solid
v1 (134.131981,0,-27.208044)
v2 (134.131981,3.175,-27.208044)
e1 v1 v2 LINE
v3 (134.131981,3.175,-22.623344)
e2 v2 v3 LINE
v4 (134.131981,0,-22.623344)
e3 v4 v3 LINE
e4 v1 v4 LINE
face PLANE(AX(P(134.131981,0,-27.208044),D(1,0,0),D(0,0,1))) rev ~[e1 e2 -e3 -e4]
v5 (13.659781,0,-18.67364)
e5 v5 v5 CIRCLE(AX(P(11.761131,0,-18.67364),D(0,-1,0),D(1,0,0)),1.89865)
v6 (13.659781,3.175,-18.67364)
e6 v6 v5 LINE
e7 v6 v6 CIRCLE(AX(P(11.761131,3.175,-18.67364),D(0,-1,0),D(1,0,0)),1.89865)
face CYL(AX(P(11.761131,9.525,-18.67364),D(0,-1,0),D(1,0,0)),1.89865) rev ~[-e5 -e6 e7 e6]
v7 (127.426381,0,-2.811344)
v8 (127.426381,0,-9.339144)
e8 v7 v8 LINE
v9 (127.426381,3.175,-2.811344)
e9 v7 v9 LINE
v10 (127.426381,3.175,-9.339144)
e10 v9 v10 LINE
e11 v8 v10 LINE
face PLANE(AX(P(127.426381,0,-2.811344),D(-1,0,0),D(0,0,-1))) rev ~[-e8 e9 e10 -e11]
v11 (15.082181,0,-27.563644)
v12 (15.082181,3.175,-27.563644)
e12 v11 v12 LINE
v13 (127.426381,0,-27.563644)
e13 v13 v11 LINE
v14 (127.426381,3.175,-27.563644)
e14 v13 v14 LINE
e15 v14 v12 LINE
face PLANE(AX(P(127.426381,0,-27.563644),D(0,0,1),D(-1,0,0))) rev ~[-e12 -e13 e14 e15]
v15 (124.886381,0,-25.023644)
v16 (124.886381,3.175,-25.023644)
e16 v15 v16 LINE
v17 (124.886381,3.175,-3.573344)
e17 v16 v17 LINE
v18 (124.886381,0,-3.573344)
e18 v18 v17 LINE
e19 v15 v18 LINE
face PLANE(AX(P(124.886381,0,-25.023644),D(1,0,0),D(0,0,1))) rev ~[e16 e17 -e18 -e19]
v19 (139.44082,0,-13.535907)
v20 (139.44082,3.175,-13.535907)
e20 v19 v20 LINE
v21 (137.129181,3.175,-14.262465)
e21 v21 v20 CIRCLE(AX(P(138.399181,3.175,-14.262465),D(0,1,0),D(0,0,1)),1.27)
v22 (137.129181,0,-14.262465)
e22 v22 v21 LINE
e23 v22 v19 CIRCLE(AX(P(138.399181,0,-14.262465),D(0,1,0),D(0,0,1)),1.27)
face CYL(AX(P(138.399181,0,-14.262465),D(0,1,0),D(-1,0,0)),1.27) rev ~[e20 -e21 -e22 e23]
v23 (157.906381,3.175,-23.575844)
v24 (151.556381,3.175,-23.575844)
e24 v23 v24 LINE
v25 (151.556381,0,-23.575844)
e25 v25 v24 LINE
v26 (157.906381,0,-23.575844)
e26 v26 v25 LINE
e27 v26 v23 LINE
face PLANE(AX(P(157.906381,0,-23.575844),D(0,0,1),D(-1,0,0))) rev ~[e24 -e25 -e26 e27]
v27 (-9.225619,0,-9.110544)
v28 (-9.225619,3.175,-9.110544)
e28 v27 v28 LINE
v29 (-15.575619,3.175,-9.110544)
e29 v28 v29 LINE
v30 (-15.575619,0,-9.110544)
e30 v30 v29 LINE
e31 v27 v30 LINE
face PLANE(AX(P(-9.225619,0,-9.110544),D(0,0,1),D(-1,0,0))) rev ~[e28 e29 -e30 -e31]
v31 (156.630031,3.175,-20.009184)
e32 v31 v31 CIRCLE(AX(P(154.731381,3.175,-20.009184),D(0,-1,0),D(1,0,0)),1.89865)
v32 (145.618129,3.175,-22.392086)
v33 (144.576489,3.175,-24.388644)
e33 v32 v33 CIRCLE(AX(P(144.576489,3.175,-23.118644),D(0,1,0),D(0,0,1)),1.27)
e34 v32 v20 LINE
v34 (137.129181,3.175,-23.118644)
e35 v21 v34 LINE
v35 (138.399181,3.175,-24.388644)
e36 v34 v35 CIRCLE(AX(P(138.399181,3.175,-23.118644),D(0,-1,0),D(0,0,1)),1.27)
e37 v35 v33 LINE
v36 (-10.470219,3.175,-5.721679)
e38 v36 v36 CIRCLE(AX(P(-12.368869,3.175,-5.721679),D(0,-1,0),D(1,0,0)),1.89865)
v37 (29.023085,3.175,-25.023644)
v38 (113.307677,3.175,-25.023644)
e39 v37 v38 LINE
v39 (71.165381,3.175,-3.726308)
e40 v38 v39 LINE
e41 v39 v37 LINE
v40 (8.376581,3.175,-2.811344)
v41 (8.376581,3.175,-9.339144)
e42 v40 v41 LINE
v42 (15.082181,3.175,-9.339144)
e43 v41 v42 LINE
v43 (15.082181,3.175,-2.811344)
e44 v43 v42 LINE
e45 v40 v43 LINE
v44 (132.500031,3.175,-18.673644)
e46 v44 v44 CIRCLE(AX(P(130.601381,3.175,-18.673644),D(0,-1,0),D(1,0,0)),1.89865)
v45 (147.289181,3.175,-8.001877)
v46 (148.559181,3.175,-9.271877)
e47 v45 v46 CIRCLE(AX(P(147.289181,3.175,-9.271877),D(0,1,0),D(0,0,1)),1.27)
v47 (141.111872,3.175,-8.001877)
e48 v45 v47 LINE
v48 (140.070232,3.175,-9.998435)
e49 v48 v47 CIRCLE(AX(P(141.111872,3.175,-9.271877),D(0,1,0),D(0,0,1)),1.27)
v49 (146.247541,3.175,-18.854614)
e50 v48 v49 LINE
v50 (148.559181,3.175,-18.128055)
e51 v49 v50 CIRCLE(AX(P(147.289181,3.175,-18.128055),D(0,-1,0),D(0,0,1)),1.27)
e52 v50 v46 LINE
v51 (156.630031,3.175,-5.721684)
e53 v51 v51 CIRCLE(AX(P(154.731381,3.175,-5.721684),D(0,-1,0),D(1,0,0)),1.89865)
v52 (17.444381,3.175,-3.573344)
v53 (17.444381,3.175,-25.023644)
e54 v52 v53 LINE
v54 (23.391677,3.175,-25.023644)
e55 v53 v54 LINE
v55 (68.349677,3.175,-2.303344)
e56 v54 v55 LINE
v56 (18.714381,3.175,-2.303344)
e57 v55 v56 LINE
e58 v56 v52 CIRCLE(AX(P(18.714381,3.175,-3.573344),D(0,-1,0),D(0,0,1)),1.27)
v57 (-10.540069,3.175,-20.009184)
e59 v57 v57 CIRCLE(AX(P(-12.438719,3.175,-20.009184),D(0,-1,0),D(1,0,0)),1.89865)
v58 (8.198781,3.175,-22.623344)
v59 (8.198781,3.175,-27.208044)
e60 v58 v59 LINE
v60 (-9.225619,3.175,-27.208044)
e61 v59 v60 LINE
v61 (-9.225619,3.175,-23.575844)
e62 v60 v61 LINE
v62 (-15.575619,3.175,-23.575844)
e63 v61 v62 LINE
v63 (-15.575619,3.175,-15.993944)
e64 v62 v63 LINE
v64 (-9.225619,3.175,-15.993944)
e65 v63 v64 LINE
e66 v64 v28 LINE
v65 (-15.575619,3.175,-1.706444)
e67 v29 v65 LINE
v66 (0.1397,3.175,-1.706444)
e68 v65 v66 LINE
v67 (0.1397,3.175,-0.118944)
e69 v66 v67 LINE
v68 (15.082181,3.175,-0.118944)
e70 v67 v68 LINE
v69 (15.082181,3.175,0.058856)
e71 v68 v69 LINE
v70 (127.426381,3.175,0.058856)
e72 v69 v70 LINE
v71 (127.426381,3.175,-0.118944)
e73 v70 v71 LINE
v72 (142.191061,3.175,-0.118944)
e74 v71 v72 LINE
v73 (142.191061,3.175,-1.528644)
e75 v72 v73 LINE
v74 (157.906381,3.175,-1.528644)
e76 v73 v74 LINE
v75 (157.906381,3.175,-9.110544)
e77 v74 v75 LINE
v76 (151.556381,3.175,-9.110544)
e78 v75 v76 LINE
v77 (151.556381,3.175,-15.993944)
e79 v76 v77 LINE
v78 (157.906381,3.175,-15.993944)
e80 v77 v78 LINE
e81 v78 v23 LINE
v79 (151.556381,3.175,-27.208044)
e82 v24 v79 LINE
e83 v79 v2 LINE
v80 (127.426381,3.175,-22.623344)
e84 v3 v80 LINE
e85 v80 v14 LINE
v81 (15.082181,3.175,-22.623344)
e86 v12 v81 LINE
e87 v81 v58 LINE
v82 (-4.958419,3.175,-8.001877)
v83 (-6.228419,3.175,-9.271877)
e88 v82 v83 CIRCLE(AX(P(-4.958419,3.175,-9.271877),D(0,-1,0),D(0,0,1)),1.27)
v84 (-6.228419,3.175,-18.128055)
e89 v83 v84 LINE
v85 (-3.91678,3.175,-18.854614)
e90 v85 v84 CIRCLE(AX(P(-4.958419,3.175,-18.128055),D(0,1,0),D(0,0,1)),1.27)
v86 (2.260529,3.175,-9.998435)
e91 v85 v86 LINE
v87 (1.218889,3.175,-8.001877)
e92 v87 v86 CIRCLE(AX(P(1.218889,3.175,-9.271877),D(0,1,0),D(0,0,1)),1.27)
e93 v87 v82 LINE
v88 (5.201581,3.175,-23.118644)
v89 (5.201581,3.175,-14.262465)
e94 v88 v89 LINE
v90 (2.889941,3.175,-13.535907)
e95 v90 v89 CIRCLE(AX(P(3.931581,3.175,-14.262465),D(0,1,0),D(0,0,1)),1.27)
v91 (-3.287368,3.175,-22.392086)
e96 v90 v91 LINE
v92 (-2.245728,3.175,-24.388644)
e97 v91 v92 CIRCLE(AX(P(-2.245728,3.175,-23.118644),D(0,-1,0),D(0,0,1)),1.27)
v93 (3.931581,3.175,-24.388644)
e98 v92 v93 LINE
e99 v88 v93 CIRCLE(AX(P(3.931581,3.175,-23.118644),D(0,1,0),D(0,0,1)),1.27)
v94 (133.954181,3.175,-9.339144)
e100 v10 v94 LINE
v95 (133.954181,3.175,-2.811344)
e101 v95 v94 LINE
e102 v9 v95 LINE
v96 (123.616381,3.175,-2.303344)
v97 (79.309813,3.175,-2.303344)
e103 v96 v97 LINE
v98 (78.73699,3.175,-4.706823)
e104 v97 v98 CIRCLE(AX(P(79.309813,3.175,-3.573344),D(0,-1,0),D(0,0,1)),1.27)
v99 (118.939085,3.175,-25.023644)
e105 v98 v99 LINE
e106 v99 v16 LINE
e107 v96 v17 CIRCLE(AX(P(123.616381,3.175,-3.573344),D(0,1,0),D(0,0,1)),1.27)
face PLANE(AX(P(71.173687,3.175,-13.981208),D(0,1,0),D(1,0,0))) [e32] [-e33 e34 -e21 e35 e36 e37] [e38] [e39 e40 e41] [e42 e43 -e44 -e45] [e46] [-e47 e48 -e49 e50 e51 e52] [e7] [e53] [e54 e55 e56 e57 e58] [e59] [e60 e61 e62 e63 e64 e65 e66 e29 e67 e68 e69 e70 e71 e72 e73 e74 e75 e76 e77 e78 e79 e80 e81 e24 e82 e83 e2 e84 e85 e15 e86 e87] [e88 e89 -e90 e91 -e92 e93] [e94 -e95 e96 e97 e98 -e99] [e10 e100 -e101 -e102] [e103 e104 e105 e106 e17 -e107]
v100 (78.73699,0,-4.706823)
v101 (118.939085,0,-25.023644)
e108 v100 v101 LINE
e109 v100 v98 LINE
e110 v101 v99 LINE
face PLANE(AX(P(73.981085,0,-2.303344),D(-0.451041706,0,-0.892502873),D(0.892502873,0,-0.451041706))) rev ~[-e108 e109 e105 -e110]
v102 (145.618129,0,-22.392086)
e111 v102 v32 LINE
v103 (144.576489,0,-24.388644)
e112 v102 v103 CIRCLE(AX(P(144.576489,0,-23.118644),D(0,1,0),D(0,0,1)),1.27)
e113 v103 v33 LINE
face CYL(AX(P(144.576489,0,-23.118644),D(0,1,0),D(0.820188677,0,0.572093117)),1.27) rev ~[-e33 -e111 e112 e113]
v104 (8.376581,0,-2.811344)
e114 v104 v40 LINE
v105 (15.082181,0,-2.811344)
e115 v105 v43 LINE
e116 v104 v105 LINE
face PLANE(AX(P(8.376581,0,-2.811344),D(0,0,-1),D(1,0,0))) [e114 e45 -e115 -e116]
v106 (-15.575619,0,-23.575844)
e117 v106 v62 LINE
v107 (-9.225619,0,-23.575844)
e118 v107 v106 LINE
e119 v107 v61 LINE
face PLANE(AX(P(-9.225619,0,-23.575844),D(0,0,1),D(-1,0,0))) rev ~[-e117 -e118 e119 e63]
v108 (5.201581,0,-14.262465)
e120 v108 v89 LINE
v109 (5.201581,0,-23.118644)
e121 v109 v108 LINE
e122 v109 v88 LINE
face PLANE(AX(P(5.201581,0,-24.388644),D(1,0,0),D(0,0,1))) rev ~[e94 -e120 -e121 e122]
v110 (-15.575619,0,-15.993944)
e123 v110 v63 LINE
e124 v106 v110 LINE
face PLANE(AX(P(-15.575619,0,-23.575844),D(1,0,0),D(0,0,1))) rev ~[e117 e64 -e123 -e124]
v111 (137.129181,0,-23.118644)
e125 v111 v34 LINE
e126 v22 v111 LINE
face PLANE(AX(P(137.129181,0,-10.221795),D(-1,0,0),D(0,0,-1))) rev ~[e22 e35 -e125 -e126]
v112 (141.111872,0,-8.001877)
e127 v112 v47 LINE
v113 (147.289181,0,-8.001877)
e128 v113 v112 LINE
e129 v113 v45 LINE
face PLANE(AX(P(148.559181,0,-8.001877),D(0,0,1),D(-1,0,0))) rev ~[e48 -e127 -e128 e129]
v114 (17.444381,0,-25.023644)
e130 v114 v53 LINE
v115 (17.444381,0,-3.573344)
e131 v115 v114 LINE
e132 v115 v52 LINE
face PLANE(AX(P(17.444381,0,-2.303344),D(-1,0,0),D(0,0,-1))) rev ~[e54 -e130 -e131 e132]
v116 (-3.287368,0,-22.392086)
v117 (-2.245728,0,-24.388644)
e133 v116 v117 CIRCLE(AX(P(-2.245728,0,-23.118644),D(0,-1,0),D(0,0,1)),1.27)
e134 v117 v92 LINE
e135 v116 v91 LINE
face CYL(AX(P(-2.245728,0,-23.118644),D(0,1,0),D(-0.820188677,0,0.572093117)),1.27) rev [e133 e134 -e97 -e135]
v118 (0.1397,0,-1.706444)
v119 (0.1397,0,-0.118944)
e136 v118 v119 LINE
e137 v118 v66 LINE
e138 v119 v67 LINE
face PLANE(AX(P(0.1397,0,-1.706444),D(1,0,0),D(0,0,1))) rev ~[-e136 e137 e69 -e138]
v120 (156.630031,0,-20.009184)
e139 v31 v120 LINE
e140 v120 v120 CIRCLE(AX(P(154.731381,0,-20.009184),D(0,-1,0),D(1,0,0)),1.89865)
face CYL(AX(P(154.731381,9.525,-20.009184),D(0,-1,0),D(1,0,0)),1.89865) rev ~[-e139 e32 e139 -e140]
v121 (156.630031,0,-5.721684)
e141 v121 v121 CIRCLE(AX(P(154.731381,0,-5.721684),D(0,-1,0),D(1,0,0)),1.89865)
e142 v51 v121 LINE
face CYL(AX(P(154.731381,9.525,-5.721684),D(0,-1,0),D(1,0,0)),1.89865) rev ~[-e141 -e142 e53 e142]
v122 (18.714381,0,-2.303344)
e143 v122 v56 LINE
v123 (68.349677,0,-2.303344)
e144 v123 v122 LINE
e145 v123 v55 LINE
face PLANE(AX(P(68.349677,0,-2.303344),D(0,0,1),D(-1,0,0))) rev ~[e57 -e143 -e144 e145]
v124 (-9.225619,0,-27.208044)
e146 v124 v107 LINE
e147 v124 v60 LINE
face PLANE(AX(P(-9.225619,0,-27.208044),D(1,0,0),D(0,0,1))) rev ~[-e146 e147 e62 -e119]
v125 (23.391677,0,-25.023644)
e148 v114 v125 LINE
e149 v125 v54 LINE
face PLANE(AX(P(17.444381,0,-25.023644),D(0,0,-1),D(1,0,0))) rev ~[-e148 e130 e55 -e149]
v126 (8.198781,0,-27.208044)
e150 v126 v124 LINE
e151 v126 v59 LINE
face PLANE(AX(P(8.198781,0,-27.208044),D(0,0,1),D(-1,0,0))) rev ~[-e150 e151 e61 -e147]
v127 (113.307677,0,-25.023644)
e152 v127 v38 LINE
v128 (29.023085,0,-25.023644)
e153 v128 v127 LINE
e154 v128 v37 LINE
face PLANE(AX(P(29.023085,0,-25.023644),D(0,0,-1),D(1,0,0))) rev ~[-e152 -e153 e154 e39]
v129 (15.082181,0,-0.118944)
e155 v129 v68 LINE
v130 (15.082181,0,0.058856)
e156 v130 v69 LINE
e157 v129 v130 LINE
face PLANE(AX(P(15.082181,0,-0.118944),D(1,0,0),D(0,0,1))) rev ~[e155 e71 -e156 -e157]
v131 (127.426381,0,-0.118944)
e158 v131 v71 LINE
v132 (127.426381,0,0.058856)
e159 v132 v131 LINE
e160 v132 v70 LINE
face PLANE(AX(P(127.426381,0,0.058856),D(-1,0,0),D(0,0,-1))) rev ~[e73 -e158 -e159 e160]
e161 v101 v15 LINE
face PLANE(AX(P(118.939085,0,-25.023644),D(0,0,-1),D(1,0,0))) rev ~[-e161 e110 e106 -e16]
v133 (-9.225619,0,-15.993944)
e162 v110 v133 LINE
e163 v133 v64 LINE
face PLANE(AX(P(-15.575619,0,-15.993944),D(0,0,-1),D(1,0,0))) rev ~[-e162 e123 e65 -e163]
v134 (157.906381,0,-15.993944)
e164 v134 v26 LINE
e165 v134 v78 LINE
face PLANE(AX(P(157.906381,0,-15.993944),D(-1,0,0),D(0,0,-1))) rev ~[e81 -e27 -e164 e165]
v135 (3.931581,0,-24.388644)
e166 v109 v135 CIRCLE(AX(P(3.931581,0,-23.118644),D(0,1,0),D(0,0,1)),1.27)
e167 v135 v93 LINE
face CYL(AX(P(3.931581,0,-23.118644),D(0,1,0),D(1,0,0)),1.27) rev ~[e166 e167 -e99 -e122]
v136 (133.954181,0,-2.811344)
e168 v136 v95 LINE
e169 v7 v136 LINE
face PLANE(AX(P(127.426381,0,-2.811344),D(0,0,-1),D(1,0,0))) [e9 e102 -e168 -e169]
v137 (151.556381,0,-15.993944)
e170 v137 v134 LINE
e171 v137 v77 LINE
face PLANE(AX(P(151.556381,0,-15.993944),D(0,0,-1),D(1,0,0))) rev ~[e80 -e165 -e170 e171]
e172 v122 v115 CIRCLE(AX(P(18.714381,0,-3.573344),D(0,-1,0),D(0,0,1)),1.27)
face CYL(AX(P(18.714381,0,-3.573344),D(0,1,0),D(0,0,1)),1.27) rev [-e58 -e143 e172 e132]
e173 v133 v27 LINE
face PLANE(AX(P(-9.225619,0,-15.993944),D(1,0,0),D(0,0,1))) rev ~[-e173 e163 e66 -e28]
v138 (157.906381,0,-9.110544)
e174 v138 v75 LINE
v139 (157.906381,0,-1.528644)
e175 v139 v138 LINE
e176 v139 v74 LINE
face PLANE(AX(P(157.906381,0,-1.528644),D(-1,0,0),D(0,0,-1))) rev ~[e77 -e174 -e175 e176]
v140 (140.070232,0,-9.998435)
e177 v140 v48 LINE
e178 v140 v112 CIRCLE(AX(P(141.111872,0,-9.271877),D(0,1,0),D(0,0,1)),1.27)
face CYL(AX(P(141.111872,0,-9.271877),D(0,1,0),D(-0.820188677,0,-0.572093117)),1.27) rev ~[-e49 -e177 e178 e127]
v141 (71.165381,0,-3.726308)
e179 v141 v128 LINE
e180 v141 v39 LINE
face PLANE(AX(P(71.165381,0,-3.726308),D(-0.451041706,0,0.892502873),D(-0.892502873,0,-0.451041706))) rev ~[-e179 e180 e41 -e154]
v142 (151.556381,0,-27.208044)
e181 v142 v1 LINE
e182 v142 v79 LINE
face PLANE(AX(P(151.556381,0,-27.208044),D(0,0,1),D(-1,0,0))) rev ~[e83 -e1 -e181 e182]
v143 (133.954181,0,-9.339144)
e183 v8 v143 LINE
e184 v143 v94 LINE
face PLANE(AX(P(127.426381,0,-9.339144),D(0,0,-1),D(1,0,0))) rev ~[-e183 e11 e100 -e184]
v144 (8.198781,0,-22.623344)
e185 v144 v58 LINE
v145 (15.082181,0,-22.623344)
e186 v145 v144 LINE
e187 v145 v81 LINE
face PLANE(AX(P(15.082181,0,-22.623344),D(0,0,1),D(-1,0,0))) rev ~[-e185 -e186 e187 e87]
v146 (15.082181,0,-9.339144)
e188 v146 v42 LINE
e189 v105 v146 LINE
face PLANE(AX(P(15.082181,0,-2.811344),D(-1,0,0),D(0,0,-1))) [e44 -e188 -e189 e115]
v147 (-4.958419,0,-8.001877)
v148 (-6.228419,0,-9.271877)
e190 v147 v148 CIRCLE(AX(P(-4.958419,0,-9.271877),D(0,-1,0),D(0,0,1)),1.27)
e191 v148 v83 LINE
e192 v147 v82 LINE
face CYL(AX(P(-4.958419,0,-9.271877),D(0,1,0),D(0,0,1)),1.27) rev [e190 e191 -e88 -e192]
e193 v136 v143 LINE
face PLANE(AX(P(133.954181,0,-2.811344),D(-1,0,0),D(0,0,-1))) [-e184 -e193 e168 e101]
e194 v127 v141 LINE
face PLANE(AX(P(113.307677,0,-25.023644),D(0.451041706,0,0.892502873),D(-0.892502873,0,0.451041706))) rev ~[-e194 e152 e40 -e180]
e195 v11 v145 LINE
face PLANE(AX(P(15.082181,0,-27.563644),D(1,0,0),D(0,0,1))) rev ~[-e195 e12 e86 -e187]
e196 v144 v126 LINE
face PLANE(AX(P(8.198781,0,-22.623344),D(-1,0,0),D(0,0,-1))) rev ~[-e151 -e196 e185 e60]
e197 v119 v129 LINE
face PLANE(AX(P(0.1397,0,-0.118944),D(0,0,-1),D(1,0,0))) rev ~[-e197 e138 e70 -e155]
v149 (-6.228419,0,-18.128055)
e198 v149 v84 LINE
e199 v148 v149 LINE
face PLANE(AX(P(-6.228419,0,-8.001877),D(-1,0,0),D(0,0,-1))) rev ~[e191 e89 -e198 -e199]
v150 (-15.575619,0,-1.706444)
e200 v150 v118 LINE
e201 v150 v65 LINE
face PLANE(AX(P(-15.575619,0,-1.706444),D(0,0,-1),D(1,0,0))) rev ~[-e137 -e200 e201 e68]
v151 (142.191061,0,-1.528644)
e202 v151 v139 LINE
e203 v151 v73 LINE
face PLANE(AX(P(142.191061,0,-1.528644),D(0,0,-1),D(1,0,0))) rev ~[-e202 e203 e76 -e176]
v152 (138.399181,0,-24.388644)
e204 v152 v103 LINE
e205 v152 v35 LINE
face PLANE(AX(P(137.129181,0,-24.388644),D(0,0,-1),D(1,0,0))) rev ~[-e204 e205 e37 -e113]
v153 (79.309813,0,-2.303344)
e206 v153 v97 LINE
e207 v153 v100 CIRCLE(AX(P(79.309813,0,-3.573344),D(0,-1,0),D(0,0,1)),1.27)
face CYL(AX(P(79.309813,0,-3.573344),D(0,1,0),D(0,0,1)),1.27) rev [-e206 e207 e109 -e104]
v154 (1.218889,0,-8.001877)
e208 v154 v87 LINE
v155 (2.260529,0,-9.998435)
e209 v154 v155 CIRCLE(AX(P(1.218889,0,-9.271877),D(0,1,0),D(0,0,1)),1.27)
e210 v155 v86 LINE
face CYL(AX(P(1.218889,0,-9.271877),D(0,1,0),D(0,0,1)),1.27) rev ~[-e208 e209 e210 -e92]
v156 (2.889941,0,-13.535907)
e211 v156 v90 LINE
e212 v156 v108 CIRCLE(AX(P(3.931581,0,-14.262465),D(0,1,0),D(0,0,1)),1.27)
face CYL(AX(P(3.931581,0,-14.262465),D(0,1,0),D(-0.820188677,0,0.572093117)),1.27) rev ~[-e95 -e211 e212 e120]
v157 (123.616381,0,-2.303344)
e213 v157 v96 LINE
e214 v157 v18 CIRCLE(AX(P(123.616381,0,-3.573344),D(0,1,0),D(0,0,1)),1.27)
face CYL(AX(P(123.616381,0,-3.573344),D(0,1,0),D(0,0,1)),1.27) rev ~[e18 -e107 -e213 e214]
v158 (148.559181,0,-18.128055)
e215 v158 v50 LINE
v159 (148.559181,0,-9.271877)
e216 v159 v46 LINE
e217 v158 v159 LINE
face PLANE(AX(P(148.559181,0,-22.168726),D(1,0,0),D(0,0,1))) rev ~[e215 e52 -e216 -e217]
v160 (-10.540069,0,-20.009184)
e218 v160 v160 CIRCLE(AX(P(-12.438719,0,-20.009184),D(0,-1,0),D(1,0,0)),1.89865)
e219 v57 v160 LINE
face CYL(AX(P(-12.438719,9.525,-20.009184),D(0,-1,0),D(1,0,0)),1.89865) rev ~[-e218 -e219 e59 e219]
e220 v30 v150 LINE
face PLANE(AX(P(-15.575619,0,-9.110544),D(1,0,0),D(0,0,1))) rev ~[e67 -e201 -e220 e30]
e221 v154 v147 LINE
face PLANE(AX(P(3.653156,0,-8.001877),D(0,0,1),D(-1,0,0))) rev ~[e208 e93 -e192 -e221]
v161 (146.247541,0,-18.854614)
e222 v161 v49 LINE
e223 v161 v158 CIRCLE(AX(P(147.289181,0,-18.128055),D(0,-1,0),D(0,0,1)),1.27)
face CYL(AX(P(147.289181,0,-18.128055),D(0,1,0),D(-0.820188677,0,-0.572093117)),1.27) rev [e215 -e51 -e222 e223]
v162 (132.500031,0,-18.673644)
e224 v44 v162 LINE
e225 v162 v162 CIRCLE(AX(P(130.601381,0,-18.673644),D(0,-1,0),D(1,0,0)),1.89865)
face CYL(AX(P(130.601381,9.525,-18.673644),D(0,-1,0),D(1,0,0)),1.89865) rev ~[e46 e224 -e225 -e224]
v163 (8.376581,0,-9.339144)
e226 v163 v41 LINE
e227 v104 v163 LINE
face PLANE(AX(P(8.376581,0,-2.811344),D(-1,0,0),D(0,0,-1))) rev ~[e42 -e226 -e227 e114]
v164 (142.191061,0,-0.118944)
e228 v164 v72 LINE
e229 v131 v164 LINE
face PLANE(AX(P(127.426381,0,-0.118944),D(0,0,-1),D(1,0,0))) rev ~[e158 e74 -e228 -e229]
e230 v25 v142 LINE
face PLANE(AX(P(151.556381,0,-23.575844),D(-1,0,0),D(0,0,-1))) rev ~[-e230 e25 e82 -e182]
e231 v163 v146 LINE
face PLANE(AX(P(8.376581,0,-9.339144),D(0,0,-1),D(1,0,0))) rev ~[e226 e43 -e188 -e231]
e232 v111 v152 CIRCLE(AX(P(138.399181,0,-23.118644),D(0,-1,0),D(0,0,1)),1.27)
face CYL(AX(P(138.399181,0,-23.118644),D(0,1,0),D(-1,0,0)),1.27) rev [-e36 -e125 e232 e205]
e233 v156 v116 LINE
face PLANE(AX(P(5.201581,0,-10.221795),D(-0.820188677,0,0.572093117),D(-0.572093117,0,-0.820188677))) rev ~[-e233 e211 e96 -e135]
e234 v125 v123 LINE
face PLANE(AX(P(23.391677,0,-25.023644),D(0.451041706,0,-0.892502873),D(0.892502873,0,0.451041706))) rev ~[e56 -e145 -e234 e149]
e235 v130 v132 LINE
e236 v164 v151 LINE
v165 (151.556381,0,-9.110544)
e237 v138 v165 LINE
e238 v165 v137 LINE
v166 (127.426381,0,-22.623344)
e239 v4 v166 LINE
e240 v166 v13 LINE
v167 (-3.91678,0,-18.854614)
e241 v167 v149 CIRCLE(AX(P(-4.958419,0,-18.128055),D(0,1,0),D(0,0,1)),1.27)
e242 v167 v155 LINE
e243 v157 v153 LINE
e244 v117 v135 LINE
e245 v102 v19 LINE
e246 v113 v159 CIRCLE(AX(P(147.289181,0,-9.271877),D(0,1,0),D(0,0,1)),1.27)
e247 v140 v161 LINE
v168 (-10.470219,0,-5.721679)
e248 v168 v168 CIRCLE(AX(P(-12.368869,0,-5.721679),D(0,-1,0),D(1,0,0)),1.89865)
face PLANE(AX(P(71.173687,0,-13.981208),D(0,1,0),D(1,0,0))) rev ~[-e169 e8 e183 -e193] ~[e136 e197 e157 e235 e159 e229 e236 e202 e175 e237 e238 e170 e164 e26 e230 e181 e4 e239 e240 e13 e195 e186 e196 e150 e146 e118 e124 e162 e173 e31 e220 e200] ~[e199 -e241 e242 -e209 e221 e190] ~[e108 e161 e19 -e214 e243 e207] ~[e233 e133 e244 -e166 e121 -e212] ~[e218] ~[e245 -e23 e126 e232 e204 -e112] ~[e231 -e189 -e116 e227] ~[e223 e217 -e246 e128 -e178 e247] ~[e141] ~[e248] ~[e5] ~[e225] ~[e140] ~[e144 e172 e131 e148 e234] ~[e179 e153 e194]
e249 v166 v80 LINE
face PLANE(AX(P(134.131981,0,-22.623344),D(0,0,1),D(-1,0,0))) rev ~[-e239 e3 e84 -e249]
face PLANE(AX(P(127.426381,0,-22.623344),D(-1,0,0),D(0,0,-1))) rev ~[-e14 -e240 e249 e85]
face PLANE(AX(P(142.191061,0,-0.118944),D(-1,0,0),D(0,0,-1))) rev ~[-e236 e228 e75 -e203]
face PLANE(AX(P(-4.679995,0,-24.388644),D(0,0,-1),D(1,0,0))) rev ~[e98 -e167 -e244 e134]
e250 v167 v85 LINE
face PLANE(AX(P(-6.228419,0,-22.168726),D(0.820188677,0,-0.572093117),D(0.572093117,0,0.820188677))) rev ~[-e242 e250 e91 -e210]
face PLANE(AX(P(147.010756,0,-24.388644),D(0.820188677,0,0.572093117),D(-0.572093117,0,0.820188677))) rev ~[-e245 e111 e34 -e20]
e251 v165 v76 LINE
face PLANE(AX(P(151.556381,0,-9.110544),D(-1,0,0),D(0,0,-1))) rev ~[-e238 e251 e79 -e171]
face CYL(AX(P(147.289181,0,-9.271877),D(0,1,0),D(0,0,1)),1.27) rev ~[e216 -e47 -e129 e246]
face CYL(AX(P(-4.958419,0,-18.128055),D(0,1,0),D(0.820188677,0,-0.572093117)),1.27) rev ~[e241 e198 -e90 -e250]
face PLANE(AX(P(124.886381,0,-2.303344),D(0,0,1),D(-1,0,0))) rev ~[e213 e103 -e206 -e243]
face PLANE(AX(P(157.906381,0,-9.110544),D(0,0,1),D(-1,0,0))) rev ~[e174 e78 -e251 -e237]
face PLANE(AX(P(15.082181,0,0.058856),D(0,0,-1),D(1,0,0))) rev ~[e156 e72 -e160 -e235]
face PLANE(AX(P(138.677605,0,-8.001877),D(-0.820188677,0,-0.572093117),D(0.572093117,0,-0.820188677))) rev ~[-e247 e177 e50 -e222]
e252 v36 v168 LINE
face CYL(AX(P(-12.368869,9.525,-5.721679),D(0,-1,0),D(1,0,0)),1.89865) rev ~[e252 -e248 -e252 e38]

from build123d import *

# Parameters (mm, degrees)
SKETCH1_W                 = 6.7056
SKETCH1_H                 = 6.5278
SKETCH1_W_2               = 6.5278
BOSS_EXTRUDE1_DEPTH       = 3.175
F_6_CLEARANCE_HOLE1_D     = 3.7973
F_6_CLEARANCE_HOLE1_DEPTH = 6.35
F_6_CLEARANCE_HOLE1_TIP   = 1.140824014
FILLET1_R                 = 1.27


with BuildPart() as part:
    # Sketch1 → Boss-Extrude1 (new body)
    with BuildSketch(Plane(origin=(0, 0, 0), x_dir=(1, 0, 0), z_dir=(0, 1, 0))):
        Polygon((127.426380641, 27.563643867), (15.082180641, 27.563643867), (15.082180641, 22.623343867), (8.198780641, 22.623343867), (8.198780641, 27.208043867), (-9.225619359, 27.208043867), (-9.225619359, 23.575843867), (-15.575619359, 23.575843867), (-15.575619359, 15.993943867), (-9.225619359, 15.993943867), (-9.225619359, 9.110543867), (-15.575619359, 9.110543867), (-15.575619359, 1.706443867), (0.1397, 1.706443867), (0.1397, 0.118943867), (15.082180641, 0.118943867), (15.082180641, -0.058856133), (127.426380641, -0.058856133), (127.426380641, 0.118943867), (142.191061281, 0.118943867), (142.191061281, 1.528643867), (157.906380641, 1.528643867), (157.906380641, 9.110543867), (151.556380641, 9.110543867), (151.556380641, 15.993943867), (157.906380641, 15.993943867), (157.906380641, 23.575843867), (151.556380641, 23.575843867), (151.556380641, 27.208043867), (134.131980641, 27.208043867), (134.131980641, 22.623343867), (127.426380641, 22.623343867), align=None)
        with Locations((11.729380641, 6.075243867)):
            Rectangle(SKETCH1_W, SKETCH1_H, mode=Mode.SUBTRACT)
        Polygon((68.349676501, 2.303343867), (17.444380641, 2.303343867), (17.444380641, 25.023643867), (23.391676501, 25.023643867), align=None, mode=Mode.SUBTRACT)
        with Locations((130.690280641, 6.075243867)):
            Rectangle(SKETCH1_W_2, SKETCH1_H, mode=Mode.SUBTRACT)
        Polygon((73.981084781, 2.303343867), (118.939084781, 25.023643867), (124.886380641, 25.023643867), (124.886380641, 2.303343867), align=None, mode=Mode.SUBTRACT)
        Polygon((-6.228419359, 8.001876918), (-6.228419359, 22.168725531), (3.653156436, 8.001876918), align=None, mode=Mode.SUBTRACT)
        Polygon((-4.679995154, 24.388643867), (5.201580641, 24.388643867), (5.201580641, 10.221795255), align=None, mode=Mode.SUBTRACT)
        Polygon((113.307676501, 25.023643867), (71.165380641, 3.726308474), (29.023084781, 25.023643867), align=None, mode=Mode.SUBTRACT)
        Polygon((148.559180641, 22.168725531), (148.559180641, 8.001876918), (138.677604846, 8.001876918), align=None, mode=Mode.SUBTRACT)
        Polygon((137.129180641, 24.388643867), (147.010756436, 24.388643867), (137.129180641, 10.221795255), align=None, mode=Mode.SUBTRACT)
    extrude(amount=BOSS_EXTRUDE1_DEPTH)

    # #6 Clearance Hole1
    with Locations(Plane(origin=(0.024087856, 3.175, -12.509508824), x_dir=(-1, 0, 0), z_dir=(0, 1, 0))):
        with Locations((-130.577292784, -6.164135043), (-154.707292784, -7.499674703), (-154.707292784, 6.787825297), (-11.737042784, -6.164130843), (12.392957216, 6.787829497), (12.462807216, -7.499674703)):
            Hole(F_6_CLEARANCE_HOLE1_D / 2, depth=F_6_CLEARANCE_HOLE1_DEPTH)
            with Locations((0, 0, -(F_6_CLEARANCE_HOLE1_DEPTH + F_6_CLEARANCE_HOLE1_TIP / 2))):  # 118° drill point
                Cone(0, F_6_CLEARANCE_HOLE1_D / 2, F_6_CLEARANCE_HOLE1_TIP, mode=Mode.SUBTRACT)

    # Fillet1
    fillet1_edges = [part.edges().sort_by_distance(p)[0] for p in [
        (-6.228419359, 1.5875, -22.168725531),
        (-6.228419359, 1.5875, -8.001876918),
        (3.653156436, 1.5875, -8.001876918),
        (124.886380641, 1.5875, -2.303343867),
        (73.981084781, 1.5875, -2.303343867),
        (17.444380641, 1.5875, -2.303343867),
        (138.677604846, 1.5875, -8.001876918),
        (148.559180641, 1.5875, -8.001876918),
        (148.559180641, 1.5875, -22.168725531),
        (137.129180641, 1.5875, -24.388643867),
        (137.129180641, 1.5875, -10.221795255),
        (147.010756436, 1.5875, -24.388643867),
        (5.201580641, 1.5875, -10.221795255),
        (5.201580641, 1.5875, -24.388643867),
        (-4.679995154, 1.5875, -24.388643867),
    ]]
    fillet(fillet1_edges, radius=FILLET1_R)


solid = part.part
